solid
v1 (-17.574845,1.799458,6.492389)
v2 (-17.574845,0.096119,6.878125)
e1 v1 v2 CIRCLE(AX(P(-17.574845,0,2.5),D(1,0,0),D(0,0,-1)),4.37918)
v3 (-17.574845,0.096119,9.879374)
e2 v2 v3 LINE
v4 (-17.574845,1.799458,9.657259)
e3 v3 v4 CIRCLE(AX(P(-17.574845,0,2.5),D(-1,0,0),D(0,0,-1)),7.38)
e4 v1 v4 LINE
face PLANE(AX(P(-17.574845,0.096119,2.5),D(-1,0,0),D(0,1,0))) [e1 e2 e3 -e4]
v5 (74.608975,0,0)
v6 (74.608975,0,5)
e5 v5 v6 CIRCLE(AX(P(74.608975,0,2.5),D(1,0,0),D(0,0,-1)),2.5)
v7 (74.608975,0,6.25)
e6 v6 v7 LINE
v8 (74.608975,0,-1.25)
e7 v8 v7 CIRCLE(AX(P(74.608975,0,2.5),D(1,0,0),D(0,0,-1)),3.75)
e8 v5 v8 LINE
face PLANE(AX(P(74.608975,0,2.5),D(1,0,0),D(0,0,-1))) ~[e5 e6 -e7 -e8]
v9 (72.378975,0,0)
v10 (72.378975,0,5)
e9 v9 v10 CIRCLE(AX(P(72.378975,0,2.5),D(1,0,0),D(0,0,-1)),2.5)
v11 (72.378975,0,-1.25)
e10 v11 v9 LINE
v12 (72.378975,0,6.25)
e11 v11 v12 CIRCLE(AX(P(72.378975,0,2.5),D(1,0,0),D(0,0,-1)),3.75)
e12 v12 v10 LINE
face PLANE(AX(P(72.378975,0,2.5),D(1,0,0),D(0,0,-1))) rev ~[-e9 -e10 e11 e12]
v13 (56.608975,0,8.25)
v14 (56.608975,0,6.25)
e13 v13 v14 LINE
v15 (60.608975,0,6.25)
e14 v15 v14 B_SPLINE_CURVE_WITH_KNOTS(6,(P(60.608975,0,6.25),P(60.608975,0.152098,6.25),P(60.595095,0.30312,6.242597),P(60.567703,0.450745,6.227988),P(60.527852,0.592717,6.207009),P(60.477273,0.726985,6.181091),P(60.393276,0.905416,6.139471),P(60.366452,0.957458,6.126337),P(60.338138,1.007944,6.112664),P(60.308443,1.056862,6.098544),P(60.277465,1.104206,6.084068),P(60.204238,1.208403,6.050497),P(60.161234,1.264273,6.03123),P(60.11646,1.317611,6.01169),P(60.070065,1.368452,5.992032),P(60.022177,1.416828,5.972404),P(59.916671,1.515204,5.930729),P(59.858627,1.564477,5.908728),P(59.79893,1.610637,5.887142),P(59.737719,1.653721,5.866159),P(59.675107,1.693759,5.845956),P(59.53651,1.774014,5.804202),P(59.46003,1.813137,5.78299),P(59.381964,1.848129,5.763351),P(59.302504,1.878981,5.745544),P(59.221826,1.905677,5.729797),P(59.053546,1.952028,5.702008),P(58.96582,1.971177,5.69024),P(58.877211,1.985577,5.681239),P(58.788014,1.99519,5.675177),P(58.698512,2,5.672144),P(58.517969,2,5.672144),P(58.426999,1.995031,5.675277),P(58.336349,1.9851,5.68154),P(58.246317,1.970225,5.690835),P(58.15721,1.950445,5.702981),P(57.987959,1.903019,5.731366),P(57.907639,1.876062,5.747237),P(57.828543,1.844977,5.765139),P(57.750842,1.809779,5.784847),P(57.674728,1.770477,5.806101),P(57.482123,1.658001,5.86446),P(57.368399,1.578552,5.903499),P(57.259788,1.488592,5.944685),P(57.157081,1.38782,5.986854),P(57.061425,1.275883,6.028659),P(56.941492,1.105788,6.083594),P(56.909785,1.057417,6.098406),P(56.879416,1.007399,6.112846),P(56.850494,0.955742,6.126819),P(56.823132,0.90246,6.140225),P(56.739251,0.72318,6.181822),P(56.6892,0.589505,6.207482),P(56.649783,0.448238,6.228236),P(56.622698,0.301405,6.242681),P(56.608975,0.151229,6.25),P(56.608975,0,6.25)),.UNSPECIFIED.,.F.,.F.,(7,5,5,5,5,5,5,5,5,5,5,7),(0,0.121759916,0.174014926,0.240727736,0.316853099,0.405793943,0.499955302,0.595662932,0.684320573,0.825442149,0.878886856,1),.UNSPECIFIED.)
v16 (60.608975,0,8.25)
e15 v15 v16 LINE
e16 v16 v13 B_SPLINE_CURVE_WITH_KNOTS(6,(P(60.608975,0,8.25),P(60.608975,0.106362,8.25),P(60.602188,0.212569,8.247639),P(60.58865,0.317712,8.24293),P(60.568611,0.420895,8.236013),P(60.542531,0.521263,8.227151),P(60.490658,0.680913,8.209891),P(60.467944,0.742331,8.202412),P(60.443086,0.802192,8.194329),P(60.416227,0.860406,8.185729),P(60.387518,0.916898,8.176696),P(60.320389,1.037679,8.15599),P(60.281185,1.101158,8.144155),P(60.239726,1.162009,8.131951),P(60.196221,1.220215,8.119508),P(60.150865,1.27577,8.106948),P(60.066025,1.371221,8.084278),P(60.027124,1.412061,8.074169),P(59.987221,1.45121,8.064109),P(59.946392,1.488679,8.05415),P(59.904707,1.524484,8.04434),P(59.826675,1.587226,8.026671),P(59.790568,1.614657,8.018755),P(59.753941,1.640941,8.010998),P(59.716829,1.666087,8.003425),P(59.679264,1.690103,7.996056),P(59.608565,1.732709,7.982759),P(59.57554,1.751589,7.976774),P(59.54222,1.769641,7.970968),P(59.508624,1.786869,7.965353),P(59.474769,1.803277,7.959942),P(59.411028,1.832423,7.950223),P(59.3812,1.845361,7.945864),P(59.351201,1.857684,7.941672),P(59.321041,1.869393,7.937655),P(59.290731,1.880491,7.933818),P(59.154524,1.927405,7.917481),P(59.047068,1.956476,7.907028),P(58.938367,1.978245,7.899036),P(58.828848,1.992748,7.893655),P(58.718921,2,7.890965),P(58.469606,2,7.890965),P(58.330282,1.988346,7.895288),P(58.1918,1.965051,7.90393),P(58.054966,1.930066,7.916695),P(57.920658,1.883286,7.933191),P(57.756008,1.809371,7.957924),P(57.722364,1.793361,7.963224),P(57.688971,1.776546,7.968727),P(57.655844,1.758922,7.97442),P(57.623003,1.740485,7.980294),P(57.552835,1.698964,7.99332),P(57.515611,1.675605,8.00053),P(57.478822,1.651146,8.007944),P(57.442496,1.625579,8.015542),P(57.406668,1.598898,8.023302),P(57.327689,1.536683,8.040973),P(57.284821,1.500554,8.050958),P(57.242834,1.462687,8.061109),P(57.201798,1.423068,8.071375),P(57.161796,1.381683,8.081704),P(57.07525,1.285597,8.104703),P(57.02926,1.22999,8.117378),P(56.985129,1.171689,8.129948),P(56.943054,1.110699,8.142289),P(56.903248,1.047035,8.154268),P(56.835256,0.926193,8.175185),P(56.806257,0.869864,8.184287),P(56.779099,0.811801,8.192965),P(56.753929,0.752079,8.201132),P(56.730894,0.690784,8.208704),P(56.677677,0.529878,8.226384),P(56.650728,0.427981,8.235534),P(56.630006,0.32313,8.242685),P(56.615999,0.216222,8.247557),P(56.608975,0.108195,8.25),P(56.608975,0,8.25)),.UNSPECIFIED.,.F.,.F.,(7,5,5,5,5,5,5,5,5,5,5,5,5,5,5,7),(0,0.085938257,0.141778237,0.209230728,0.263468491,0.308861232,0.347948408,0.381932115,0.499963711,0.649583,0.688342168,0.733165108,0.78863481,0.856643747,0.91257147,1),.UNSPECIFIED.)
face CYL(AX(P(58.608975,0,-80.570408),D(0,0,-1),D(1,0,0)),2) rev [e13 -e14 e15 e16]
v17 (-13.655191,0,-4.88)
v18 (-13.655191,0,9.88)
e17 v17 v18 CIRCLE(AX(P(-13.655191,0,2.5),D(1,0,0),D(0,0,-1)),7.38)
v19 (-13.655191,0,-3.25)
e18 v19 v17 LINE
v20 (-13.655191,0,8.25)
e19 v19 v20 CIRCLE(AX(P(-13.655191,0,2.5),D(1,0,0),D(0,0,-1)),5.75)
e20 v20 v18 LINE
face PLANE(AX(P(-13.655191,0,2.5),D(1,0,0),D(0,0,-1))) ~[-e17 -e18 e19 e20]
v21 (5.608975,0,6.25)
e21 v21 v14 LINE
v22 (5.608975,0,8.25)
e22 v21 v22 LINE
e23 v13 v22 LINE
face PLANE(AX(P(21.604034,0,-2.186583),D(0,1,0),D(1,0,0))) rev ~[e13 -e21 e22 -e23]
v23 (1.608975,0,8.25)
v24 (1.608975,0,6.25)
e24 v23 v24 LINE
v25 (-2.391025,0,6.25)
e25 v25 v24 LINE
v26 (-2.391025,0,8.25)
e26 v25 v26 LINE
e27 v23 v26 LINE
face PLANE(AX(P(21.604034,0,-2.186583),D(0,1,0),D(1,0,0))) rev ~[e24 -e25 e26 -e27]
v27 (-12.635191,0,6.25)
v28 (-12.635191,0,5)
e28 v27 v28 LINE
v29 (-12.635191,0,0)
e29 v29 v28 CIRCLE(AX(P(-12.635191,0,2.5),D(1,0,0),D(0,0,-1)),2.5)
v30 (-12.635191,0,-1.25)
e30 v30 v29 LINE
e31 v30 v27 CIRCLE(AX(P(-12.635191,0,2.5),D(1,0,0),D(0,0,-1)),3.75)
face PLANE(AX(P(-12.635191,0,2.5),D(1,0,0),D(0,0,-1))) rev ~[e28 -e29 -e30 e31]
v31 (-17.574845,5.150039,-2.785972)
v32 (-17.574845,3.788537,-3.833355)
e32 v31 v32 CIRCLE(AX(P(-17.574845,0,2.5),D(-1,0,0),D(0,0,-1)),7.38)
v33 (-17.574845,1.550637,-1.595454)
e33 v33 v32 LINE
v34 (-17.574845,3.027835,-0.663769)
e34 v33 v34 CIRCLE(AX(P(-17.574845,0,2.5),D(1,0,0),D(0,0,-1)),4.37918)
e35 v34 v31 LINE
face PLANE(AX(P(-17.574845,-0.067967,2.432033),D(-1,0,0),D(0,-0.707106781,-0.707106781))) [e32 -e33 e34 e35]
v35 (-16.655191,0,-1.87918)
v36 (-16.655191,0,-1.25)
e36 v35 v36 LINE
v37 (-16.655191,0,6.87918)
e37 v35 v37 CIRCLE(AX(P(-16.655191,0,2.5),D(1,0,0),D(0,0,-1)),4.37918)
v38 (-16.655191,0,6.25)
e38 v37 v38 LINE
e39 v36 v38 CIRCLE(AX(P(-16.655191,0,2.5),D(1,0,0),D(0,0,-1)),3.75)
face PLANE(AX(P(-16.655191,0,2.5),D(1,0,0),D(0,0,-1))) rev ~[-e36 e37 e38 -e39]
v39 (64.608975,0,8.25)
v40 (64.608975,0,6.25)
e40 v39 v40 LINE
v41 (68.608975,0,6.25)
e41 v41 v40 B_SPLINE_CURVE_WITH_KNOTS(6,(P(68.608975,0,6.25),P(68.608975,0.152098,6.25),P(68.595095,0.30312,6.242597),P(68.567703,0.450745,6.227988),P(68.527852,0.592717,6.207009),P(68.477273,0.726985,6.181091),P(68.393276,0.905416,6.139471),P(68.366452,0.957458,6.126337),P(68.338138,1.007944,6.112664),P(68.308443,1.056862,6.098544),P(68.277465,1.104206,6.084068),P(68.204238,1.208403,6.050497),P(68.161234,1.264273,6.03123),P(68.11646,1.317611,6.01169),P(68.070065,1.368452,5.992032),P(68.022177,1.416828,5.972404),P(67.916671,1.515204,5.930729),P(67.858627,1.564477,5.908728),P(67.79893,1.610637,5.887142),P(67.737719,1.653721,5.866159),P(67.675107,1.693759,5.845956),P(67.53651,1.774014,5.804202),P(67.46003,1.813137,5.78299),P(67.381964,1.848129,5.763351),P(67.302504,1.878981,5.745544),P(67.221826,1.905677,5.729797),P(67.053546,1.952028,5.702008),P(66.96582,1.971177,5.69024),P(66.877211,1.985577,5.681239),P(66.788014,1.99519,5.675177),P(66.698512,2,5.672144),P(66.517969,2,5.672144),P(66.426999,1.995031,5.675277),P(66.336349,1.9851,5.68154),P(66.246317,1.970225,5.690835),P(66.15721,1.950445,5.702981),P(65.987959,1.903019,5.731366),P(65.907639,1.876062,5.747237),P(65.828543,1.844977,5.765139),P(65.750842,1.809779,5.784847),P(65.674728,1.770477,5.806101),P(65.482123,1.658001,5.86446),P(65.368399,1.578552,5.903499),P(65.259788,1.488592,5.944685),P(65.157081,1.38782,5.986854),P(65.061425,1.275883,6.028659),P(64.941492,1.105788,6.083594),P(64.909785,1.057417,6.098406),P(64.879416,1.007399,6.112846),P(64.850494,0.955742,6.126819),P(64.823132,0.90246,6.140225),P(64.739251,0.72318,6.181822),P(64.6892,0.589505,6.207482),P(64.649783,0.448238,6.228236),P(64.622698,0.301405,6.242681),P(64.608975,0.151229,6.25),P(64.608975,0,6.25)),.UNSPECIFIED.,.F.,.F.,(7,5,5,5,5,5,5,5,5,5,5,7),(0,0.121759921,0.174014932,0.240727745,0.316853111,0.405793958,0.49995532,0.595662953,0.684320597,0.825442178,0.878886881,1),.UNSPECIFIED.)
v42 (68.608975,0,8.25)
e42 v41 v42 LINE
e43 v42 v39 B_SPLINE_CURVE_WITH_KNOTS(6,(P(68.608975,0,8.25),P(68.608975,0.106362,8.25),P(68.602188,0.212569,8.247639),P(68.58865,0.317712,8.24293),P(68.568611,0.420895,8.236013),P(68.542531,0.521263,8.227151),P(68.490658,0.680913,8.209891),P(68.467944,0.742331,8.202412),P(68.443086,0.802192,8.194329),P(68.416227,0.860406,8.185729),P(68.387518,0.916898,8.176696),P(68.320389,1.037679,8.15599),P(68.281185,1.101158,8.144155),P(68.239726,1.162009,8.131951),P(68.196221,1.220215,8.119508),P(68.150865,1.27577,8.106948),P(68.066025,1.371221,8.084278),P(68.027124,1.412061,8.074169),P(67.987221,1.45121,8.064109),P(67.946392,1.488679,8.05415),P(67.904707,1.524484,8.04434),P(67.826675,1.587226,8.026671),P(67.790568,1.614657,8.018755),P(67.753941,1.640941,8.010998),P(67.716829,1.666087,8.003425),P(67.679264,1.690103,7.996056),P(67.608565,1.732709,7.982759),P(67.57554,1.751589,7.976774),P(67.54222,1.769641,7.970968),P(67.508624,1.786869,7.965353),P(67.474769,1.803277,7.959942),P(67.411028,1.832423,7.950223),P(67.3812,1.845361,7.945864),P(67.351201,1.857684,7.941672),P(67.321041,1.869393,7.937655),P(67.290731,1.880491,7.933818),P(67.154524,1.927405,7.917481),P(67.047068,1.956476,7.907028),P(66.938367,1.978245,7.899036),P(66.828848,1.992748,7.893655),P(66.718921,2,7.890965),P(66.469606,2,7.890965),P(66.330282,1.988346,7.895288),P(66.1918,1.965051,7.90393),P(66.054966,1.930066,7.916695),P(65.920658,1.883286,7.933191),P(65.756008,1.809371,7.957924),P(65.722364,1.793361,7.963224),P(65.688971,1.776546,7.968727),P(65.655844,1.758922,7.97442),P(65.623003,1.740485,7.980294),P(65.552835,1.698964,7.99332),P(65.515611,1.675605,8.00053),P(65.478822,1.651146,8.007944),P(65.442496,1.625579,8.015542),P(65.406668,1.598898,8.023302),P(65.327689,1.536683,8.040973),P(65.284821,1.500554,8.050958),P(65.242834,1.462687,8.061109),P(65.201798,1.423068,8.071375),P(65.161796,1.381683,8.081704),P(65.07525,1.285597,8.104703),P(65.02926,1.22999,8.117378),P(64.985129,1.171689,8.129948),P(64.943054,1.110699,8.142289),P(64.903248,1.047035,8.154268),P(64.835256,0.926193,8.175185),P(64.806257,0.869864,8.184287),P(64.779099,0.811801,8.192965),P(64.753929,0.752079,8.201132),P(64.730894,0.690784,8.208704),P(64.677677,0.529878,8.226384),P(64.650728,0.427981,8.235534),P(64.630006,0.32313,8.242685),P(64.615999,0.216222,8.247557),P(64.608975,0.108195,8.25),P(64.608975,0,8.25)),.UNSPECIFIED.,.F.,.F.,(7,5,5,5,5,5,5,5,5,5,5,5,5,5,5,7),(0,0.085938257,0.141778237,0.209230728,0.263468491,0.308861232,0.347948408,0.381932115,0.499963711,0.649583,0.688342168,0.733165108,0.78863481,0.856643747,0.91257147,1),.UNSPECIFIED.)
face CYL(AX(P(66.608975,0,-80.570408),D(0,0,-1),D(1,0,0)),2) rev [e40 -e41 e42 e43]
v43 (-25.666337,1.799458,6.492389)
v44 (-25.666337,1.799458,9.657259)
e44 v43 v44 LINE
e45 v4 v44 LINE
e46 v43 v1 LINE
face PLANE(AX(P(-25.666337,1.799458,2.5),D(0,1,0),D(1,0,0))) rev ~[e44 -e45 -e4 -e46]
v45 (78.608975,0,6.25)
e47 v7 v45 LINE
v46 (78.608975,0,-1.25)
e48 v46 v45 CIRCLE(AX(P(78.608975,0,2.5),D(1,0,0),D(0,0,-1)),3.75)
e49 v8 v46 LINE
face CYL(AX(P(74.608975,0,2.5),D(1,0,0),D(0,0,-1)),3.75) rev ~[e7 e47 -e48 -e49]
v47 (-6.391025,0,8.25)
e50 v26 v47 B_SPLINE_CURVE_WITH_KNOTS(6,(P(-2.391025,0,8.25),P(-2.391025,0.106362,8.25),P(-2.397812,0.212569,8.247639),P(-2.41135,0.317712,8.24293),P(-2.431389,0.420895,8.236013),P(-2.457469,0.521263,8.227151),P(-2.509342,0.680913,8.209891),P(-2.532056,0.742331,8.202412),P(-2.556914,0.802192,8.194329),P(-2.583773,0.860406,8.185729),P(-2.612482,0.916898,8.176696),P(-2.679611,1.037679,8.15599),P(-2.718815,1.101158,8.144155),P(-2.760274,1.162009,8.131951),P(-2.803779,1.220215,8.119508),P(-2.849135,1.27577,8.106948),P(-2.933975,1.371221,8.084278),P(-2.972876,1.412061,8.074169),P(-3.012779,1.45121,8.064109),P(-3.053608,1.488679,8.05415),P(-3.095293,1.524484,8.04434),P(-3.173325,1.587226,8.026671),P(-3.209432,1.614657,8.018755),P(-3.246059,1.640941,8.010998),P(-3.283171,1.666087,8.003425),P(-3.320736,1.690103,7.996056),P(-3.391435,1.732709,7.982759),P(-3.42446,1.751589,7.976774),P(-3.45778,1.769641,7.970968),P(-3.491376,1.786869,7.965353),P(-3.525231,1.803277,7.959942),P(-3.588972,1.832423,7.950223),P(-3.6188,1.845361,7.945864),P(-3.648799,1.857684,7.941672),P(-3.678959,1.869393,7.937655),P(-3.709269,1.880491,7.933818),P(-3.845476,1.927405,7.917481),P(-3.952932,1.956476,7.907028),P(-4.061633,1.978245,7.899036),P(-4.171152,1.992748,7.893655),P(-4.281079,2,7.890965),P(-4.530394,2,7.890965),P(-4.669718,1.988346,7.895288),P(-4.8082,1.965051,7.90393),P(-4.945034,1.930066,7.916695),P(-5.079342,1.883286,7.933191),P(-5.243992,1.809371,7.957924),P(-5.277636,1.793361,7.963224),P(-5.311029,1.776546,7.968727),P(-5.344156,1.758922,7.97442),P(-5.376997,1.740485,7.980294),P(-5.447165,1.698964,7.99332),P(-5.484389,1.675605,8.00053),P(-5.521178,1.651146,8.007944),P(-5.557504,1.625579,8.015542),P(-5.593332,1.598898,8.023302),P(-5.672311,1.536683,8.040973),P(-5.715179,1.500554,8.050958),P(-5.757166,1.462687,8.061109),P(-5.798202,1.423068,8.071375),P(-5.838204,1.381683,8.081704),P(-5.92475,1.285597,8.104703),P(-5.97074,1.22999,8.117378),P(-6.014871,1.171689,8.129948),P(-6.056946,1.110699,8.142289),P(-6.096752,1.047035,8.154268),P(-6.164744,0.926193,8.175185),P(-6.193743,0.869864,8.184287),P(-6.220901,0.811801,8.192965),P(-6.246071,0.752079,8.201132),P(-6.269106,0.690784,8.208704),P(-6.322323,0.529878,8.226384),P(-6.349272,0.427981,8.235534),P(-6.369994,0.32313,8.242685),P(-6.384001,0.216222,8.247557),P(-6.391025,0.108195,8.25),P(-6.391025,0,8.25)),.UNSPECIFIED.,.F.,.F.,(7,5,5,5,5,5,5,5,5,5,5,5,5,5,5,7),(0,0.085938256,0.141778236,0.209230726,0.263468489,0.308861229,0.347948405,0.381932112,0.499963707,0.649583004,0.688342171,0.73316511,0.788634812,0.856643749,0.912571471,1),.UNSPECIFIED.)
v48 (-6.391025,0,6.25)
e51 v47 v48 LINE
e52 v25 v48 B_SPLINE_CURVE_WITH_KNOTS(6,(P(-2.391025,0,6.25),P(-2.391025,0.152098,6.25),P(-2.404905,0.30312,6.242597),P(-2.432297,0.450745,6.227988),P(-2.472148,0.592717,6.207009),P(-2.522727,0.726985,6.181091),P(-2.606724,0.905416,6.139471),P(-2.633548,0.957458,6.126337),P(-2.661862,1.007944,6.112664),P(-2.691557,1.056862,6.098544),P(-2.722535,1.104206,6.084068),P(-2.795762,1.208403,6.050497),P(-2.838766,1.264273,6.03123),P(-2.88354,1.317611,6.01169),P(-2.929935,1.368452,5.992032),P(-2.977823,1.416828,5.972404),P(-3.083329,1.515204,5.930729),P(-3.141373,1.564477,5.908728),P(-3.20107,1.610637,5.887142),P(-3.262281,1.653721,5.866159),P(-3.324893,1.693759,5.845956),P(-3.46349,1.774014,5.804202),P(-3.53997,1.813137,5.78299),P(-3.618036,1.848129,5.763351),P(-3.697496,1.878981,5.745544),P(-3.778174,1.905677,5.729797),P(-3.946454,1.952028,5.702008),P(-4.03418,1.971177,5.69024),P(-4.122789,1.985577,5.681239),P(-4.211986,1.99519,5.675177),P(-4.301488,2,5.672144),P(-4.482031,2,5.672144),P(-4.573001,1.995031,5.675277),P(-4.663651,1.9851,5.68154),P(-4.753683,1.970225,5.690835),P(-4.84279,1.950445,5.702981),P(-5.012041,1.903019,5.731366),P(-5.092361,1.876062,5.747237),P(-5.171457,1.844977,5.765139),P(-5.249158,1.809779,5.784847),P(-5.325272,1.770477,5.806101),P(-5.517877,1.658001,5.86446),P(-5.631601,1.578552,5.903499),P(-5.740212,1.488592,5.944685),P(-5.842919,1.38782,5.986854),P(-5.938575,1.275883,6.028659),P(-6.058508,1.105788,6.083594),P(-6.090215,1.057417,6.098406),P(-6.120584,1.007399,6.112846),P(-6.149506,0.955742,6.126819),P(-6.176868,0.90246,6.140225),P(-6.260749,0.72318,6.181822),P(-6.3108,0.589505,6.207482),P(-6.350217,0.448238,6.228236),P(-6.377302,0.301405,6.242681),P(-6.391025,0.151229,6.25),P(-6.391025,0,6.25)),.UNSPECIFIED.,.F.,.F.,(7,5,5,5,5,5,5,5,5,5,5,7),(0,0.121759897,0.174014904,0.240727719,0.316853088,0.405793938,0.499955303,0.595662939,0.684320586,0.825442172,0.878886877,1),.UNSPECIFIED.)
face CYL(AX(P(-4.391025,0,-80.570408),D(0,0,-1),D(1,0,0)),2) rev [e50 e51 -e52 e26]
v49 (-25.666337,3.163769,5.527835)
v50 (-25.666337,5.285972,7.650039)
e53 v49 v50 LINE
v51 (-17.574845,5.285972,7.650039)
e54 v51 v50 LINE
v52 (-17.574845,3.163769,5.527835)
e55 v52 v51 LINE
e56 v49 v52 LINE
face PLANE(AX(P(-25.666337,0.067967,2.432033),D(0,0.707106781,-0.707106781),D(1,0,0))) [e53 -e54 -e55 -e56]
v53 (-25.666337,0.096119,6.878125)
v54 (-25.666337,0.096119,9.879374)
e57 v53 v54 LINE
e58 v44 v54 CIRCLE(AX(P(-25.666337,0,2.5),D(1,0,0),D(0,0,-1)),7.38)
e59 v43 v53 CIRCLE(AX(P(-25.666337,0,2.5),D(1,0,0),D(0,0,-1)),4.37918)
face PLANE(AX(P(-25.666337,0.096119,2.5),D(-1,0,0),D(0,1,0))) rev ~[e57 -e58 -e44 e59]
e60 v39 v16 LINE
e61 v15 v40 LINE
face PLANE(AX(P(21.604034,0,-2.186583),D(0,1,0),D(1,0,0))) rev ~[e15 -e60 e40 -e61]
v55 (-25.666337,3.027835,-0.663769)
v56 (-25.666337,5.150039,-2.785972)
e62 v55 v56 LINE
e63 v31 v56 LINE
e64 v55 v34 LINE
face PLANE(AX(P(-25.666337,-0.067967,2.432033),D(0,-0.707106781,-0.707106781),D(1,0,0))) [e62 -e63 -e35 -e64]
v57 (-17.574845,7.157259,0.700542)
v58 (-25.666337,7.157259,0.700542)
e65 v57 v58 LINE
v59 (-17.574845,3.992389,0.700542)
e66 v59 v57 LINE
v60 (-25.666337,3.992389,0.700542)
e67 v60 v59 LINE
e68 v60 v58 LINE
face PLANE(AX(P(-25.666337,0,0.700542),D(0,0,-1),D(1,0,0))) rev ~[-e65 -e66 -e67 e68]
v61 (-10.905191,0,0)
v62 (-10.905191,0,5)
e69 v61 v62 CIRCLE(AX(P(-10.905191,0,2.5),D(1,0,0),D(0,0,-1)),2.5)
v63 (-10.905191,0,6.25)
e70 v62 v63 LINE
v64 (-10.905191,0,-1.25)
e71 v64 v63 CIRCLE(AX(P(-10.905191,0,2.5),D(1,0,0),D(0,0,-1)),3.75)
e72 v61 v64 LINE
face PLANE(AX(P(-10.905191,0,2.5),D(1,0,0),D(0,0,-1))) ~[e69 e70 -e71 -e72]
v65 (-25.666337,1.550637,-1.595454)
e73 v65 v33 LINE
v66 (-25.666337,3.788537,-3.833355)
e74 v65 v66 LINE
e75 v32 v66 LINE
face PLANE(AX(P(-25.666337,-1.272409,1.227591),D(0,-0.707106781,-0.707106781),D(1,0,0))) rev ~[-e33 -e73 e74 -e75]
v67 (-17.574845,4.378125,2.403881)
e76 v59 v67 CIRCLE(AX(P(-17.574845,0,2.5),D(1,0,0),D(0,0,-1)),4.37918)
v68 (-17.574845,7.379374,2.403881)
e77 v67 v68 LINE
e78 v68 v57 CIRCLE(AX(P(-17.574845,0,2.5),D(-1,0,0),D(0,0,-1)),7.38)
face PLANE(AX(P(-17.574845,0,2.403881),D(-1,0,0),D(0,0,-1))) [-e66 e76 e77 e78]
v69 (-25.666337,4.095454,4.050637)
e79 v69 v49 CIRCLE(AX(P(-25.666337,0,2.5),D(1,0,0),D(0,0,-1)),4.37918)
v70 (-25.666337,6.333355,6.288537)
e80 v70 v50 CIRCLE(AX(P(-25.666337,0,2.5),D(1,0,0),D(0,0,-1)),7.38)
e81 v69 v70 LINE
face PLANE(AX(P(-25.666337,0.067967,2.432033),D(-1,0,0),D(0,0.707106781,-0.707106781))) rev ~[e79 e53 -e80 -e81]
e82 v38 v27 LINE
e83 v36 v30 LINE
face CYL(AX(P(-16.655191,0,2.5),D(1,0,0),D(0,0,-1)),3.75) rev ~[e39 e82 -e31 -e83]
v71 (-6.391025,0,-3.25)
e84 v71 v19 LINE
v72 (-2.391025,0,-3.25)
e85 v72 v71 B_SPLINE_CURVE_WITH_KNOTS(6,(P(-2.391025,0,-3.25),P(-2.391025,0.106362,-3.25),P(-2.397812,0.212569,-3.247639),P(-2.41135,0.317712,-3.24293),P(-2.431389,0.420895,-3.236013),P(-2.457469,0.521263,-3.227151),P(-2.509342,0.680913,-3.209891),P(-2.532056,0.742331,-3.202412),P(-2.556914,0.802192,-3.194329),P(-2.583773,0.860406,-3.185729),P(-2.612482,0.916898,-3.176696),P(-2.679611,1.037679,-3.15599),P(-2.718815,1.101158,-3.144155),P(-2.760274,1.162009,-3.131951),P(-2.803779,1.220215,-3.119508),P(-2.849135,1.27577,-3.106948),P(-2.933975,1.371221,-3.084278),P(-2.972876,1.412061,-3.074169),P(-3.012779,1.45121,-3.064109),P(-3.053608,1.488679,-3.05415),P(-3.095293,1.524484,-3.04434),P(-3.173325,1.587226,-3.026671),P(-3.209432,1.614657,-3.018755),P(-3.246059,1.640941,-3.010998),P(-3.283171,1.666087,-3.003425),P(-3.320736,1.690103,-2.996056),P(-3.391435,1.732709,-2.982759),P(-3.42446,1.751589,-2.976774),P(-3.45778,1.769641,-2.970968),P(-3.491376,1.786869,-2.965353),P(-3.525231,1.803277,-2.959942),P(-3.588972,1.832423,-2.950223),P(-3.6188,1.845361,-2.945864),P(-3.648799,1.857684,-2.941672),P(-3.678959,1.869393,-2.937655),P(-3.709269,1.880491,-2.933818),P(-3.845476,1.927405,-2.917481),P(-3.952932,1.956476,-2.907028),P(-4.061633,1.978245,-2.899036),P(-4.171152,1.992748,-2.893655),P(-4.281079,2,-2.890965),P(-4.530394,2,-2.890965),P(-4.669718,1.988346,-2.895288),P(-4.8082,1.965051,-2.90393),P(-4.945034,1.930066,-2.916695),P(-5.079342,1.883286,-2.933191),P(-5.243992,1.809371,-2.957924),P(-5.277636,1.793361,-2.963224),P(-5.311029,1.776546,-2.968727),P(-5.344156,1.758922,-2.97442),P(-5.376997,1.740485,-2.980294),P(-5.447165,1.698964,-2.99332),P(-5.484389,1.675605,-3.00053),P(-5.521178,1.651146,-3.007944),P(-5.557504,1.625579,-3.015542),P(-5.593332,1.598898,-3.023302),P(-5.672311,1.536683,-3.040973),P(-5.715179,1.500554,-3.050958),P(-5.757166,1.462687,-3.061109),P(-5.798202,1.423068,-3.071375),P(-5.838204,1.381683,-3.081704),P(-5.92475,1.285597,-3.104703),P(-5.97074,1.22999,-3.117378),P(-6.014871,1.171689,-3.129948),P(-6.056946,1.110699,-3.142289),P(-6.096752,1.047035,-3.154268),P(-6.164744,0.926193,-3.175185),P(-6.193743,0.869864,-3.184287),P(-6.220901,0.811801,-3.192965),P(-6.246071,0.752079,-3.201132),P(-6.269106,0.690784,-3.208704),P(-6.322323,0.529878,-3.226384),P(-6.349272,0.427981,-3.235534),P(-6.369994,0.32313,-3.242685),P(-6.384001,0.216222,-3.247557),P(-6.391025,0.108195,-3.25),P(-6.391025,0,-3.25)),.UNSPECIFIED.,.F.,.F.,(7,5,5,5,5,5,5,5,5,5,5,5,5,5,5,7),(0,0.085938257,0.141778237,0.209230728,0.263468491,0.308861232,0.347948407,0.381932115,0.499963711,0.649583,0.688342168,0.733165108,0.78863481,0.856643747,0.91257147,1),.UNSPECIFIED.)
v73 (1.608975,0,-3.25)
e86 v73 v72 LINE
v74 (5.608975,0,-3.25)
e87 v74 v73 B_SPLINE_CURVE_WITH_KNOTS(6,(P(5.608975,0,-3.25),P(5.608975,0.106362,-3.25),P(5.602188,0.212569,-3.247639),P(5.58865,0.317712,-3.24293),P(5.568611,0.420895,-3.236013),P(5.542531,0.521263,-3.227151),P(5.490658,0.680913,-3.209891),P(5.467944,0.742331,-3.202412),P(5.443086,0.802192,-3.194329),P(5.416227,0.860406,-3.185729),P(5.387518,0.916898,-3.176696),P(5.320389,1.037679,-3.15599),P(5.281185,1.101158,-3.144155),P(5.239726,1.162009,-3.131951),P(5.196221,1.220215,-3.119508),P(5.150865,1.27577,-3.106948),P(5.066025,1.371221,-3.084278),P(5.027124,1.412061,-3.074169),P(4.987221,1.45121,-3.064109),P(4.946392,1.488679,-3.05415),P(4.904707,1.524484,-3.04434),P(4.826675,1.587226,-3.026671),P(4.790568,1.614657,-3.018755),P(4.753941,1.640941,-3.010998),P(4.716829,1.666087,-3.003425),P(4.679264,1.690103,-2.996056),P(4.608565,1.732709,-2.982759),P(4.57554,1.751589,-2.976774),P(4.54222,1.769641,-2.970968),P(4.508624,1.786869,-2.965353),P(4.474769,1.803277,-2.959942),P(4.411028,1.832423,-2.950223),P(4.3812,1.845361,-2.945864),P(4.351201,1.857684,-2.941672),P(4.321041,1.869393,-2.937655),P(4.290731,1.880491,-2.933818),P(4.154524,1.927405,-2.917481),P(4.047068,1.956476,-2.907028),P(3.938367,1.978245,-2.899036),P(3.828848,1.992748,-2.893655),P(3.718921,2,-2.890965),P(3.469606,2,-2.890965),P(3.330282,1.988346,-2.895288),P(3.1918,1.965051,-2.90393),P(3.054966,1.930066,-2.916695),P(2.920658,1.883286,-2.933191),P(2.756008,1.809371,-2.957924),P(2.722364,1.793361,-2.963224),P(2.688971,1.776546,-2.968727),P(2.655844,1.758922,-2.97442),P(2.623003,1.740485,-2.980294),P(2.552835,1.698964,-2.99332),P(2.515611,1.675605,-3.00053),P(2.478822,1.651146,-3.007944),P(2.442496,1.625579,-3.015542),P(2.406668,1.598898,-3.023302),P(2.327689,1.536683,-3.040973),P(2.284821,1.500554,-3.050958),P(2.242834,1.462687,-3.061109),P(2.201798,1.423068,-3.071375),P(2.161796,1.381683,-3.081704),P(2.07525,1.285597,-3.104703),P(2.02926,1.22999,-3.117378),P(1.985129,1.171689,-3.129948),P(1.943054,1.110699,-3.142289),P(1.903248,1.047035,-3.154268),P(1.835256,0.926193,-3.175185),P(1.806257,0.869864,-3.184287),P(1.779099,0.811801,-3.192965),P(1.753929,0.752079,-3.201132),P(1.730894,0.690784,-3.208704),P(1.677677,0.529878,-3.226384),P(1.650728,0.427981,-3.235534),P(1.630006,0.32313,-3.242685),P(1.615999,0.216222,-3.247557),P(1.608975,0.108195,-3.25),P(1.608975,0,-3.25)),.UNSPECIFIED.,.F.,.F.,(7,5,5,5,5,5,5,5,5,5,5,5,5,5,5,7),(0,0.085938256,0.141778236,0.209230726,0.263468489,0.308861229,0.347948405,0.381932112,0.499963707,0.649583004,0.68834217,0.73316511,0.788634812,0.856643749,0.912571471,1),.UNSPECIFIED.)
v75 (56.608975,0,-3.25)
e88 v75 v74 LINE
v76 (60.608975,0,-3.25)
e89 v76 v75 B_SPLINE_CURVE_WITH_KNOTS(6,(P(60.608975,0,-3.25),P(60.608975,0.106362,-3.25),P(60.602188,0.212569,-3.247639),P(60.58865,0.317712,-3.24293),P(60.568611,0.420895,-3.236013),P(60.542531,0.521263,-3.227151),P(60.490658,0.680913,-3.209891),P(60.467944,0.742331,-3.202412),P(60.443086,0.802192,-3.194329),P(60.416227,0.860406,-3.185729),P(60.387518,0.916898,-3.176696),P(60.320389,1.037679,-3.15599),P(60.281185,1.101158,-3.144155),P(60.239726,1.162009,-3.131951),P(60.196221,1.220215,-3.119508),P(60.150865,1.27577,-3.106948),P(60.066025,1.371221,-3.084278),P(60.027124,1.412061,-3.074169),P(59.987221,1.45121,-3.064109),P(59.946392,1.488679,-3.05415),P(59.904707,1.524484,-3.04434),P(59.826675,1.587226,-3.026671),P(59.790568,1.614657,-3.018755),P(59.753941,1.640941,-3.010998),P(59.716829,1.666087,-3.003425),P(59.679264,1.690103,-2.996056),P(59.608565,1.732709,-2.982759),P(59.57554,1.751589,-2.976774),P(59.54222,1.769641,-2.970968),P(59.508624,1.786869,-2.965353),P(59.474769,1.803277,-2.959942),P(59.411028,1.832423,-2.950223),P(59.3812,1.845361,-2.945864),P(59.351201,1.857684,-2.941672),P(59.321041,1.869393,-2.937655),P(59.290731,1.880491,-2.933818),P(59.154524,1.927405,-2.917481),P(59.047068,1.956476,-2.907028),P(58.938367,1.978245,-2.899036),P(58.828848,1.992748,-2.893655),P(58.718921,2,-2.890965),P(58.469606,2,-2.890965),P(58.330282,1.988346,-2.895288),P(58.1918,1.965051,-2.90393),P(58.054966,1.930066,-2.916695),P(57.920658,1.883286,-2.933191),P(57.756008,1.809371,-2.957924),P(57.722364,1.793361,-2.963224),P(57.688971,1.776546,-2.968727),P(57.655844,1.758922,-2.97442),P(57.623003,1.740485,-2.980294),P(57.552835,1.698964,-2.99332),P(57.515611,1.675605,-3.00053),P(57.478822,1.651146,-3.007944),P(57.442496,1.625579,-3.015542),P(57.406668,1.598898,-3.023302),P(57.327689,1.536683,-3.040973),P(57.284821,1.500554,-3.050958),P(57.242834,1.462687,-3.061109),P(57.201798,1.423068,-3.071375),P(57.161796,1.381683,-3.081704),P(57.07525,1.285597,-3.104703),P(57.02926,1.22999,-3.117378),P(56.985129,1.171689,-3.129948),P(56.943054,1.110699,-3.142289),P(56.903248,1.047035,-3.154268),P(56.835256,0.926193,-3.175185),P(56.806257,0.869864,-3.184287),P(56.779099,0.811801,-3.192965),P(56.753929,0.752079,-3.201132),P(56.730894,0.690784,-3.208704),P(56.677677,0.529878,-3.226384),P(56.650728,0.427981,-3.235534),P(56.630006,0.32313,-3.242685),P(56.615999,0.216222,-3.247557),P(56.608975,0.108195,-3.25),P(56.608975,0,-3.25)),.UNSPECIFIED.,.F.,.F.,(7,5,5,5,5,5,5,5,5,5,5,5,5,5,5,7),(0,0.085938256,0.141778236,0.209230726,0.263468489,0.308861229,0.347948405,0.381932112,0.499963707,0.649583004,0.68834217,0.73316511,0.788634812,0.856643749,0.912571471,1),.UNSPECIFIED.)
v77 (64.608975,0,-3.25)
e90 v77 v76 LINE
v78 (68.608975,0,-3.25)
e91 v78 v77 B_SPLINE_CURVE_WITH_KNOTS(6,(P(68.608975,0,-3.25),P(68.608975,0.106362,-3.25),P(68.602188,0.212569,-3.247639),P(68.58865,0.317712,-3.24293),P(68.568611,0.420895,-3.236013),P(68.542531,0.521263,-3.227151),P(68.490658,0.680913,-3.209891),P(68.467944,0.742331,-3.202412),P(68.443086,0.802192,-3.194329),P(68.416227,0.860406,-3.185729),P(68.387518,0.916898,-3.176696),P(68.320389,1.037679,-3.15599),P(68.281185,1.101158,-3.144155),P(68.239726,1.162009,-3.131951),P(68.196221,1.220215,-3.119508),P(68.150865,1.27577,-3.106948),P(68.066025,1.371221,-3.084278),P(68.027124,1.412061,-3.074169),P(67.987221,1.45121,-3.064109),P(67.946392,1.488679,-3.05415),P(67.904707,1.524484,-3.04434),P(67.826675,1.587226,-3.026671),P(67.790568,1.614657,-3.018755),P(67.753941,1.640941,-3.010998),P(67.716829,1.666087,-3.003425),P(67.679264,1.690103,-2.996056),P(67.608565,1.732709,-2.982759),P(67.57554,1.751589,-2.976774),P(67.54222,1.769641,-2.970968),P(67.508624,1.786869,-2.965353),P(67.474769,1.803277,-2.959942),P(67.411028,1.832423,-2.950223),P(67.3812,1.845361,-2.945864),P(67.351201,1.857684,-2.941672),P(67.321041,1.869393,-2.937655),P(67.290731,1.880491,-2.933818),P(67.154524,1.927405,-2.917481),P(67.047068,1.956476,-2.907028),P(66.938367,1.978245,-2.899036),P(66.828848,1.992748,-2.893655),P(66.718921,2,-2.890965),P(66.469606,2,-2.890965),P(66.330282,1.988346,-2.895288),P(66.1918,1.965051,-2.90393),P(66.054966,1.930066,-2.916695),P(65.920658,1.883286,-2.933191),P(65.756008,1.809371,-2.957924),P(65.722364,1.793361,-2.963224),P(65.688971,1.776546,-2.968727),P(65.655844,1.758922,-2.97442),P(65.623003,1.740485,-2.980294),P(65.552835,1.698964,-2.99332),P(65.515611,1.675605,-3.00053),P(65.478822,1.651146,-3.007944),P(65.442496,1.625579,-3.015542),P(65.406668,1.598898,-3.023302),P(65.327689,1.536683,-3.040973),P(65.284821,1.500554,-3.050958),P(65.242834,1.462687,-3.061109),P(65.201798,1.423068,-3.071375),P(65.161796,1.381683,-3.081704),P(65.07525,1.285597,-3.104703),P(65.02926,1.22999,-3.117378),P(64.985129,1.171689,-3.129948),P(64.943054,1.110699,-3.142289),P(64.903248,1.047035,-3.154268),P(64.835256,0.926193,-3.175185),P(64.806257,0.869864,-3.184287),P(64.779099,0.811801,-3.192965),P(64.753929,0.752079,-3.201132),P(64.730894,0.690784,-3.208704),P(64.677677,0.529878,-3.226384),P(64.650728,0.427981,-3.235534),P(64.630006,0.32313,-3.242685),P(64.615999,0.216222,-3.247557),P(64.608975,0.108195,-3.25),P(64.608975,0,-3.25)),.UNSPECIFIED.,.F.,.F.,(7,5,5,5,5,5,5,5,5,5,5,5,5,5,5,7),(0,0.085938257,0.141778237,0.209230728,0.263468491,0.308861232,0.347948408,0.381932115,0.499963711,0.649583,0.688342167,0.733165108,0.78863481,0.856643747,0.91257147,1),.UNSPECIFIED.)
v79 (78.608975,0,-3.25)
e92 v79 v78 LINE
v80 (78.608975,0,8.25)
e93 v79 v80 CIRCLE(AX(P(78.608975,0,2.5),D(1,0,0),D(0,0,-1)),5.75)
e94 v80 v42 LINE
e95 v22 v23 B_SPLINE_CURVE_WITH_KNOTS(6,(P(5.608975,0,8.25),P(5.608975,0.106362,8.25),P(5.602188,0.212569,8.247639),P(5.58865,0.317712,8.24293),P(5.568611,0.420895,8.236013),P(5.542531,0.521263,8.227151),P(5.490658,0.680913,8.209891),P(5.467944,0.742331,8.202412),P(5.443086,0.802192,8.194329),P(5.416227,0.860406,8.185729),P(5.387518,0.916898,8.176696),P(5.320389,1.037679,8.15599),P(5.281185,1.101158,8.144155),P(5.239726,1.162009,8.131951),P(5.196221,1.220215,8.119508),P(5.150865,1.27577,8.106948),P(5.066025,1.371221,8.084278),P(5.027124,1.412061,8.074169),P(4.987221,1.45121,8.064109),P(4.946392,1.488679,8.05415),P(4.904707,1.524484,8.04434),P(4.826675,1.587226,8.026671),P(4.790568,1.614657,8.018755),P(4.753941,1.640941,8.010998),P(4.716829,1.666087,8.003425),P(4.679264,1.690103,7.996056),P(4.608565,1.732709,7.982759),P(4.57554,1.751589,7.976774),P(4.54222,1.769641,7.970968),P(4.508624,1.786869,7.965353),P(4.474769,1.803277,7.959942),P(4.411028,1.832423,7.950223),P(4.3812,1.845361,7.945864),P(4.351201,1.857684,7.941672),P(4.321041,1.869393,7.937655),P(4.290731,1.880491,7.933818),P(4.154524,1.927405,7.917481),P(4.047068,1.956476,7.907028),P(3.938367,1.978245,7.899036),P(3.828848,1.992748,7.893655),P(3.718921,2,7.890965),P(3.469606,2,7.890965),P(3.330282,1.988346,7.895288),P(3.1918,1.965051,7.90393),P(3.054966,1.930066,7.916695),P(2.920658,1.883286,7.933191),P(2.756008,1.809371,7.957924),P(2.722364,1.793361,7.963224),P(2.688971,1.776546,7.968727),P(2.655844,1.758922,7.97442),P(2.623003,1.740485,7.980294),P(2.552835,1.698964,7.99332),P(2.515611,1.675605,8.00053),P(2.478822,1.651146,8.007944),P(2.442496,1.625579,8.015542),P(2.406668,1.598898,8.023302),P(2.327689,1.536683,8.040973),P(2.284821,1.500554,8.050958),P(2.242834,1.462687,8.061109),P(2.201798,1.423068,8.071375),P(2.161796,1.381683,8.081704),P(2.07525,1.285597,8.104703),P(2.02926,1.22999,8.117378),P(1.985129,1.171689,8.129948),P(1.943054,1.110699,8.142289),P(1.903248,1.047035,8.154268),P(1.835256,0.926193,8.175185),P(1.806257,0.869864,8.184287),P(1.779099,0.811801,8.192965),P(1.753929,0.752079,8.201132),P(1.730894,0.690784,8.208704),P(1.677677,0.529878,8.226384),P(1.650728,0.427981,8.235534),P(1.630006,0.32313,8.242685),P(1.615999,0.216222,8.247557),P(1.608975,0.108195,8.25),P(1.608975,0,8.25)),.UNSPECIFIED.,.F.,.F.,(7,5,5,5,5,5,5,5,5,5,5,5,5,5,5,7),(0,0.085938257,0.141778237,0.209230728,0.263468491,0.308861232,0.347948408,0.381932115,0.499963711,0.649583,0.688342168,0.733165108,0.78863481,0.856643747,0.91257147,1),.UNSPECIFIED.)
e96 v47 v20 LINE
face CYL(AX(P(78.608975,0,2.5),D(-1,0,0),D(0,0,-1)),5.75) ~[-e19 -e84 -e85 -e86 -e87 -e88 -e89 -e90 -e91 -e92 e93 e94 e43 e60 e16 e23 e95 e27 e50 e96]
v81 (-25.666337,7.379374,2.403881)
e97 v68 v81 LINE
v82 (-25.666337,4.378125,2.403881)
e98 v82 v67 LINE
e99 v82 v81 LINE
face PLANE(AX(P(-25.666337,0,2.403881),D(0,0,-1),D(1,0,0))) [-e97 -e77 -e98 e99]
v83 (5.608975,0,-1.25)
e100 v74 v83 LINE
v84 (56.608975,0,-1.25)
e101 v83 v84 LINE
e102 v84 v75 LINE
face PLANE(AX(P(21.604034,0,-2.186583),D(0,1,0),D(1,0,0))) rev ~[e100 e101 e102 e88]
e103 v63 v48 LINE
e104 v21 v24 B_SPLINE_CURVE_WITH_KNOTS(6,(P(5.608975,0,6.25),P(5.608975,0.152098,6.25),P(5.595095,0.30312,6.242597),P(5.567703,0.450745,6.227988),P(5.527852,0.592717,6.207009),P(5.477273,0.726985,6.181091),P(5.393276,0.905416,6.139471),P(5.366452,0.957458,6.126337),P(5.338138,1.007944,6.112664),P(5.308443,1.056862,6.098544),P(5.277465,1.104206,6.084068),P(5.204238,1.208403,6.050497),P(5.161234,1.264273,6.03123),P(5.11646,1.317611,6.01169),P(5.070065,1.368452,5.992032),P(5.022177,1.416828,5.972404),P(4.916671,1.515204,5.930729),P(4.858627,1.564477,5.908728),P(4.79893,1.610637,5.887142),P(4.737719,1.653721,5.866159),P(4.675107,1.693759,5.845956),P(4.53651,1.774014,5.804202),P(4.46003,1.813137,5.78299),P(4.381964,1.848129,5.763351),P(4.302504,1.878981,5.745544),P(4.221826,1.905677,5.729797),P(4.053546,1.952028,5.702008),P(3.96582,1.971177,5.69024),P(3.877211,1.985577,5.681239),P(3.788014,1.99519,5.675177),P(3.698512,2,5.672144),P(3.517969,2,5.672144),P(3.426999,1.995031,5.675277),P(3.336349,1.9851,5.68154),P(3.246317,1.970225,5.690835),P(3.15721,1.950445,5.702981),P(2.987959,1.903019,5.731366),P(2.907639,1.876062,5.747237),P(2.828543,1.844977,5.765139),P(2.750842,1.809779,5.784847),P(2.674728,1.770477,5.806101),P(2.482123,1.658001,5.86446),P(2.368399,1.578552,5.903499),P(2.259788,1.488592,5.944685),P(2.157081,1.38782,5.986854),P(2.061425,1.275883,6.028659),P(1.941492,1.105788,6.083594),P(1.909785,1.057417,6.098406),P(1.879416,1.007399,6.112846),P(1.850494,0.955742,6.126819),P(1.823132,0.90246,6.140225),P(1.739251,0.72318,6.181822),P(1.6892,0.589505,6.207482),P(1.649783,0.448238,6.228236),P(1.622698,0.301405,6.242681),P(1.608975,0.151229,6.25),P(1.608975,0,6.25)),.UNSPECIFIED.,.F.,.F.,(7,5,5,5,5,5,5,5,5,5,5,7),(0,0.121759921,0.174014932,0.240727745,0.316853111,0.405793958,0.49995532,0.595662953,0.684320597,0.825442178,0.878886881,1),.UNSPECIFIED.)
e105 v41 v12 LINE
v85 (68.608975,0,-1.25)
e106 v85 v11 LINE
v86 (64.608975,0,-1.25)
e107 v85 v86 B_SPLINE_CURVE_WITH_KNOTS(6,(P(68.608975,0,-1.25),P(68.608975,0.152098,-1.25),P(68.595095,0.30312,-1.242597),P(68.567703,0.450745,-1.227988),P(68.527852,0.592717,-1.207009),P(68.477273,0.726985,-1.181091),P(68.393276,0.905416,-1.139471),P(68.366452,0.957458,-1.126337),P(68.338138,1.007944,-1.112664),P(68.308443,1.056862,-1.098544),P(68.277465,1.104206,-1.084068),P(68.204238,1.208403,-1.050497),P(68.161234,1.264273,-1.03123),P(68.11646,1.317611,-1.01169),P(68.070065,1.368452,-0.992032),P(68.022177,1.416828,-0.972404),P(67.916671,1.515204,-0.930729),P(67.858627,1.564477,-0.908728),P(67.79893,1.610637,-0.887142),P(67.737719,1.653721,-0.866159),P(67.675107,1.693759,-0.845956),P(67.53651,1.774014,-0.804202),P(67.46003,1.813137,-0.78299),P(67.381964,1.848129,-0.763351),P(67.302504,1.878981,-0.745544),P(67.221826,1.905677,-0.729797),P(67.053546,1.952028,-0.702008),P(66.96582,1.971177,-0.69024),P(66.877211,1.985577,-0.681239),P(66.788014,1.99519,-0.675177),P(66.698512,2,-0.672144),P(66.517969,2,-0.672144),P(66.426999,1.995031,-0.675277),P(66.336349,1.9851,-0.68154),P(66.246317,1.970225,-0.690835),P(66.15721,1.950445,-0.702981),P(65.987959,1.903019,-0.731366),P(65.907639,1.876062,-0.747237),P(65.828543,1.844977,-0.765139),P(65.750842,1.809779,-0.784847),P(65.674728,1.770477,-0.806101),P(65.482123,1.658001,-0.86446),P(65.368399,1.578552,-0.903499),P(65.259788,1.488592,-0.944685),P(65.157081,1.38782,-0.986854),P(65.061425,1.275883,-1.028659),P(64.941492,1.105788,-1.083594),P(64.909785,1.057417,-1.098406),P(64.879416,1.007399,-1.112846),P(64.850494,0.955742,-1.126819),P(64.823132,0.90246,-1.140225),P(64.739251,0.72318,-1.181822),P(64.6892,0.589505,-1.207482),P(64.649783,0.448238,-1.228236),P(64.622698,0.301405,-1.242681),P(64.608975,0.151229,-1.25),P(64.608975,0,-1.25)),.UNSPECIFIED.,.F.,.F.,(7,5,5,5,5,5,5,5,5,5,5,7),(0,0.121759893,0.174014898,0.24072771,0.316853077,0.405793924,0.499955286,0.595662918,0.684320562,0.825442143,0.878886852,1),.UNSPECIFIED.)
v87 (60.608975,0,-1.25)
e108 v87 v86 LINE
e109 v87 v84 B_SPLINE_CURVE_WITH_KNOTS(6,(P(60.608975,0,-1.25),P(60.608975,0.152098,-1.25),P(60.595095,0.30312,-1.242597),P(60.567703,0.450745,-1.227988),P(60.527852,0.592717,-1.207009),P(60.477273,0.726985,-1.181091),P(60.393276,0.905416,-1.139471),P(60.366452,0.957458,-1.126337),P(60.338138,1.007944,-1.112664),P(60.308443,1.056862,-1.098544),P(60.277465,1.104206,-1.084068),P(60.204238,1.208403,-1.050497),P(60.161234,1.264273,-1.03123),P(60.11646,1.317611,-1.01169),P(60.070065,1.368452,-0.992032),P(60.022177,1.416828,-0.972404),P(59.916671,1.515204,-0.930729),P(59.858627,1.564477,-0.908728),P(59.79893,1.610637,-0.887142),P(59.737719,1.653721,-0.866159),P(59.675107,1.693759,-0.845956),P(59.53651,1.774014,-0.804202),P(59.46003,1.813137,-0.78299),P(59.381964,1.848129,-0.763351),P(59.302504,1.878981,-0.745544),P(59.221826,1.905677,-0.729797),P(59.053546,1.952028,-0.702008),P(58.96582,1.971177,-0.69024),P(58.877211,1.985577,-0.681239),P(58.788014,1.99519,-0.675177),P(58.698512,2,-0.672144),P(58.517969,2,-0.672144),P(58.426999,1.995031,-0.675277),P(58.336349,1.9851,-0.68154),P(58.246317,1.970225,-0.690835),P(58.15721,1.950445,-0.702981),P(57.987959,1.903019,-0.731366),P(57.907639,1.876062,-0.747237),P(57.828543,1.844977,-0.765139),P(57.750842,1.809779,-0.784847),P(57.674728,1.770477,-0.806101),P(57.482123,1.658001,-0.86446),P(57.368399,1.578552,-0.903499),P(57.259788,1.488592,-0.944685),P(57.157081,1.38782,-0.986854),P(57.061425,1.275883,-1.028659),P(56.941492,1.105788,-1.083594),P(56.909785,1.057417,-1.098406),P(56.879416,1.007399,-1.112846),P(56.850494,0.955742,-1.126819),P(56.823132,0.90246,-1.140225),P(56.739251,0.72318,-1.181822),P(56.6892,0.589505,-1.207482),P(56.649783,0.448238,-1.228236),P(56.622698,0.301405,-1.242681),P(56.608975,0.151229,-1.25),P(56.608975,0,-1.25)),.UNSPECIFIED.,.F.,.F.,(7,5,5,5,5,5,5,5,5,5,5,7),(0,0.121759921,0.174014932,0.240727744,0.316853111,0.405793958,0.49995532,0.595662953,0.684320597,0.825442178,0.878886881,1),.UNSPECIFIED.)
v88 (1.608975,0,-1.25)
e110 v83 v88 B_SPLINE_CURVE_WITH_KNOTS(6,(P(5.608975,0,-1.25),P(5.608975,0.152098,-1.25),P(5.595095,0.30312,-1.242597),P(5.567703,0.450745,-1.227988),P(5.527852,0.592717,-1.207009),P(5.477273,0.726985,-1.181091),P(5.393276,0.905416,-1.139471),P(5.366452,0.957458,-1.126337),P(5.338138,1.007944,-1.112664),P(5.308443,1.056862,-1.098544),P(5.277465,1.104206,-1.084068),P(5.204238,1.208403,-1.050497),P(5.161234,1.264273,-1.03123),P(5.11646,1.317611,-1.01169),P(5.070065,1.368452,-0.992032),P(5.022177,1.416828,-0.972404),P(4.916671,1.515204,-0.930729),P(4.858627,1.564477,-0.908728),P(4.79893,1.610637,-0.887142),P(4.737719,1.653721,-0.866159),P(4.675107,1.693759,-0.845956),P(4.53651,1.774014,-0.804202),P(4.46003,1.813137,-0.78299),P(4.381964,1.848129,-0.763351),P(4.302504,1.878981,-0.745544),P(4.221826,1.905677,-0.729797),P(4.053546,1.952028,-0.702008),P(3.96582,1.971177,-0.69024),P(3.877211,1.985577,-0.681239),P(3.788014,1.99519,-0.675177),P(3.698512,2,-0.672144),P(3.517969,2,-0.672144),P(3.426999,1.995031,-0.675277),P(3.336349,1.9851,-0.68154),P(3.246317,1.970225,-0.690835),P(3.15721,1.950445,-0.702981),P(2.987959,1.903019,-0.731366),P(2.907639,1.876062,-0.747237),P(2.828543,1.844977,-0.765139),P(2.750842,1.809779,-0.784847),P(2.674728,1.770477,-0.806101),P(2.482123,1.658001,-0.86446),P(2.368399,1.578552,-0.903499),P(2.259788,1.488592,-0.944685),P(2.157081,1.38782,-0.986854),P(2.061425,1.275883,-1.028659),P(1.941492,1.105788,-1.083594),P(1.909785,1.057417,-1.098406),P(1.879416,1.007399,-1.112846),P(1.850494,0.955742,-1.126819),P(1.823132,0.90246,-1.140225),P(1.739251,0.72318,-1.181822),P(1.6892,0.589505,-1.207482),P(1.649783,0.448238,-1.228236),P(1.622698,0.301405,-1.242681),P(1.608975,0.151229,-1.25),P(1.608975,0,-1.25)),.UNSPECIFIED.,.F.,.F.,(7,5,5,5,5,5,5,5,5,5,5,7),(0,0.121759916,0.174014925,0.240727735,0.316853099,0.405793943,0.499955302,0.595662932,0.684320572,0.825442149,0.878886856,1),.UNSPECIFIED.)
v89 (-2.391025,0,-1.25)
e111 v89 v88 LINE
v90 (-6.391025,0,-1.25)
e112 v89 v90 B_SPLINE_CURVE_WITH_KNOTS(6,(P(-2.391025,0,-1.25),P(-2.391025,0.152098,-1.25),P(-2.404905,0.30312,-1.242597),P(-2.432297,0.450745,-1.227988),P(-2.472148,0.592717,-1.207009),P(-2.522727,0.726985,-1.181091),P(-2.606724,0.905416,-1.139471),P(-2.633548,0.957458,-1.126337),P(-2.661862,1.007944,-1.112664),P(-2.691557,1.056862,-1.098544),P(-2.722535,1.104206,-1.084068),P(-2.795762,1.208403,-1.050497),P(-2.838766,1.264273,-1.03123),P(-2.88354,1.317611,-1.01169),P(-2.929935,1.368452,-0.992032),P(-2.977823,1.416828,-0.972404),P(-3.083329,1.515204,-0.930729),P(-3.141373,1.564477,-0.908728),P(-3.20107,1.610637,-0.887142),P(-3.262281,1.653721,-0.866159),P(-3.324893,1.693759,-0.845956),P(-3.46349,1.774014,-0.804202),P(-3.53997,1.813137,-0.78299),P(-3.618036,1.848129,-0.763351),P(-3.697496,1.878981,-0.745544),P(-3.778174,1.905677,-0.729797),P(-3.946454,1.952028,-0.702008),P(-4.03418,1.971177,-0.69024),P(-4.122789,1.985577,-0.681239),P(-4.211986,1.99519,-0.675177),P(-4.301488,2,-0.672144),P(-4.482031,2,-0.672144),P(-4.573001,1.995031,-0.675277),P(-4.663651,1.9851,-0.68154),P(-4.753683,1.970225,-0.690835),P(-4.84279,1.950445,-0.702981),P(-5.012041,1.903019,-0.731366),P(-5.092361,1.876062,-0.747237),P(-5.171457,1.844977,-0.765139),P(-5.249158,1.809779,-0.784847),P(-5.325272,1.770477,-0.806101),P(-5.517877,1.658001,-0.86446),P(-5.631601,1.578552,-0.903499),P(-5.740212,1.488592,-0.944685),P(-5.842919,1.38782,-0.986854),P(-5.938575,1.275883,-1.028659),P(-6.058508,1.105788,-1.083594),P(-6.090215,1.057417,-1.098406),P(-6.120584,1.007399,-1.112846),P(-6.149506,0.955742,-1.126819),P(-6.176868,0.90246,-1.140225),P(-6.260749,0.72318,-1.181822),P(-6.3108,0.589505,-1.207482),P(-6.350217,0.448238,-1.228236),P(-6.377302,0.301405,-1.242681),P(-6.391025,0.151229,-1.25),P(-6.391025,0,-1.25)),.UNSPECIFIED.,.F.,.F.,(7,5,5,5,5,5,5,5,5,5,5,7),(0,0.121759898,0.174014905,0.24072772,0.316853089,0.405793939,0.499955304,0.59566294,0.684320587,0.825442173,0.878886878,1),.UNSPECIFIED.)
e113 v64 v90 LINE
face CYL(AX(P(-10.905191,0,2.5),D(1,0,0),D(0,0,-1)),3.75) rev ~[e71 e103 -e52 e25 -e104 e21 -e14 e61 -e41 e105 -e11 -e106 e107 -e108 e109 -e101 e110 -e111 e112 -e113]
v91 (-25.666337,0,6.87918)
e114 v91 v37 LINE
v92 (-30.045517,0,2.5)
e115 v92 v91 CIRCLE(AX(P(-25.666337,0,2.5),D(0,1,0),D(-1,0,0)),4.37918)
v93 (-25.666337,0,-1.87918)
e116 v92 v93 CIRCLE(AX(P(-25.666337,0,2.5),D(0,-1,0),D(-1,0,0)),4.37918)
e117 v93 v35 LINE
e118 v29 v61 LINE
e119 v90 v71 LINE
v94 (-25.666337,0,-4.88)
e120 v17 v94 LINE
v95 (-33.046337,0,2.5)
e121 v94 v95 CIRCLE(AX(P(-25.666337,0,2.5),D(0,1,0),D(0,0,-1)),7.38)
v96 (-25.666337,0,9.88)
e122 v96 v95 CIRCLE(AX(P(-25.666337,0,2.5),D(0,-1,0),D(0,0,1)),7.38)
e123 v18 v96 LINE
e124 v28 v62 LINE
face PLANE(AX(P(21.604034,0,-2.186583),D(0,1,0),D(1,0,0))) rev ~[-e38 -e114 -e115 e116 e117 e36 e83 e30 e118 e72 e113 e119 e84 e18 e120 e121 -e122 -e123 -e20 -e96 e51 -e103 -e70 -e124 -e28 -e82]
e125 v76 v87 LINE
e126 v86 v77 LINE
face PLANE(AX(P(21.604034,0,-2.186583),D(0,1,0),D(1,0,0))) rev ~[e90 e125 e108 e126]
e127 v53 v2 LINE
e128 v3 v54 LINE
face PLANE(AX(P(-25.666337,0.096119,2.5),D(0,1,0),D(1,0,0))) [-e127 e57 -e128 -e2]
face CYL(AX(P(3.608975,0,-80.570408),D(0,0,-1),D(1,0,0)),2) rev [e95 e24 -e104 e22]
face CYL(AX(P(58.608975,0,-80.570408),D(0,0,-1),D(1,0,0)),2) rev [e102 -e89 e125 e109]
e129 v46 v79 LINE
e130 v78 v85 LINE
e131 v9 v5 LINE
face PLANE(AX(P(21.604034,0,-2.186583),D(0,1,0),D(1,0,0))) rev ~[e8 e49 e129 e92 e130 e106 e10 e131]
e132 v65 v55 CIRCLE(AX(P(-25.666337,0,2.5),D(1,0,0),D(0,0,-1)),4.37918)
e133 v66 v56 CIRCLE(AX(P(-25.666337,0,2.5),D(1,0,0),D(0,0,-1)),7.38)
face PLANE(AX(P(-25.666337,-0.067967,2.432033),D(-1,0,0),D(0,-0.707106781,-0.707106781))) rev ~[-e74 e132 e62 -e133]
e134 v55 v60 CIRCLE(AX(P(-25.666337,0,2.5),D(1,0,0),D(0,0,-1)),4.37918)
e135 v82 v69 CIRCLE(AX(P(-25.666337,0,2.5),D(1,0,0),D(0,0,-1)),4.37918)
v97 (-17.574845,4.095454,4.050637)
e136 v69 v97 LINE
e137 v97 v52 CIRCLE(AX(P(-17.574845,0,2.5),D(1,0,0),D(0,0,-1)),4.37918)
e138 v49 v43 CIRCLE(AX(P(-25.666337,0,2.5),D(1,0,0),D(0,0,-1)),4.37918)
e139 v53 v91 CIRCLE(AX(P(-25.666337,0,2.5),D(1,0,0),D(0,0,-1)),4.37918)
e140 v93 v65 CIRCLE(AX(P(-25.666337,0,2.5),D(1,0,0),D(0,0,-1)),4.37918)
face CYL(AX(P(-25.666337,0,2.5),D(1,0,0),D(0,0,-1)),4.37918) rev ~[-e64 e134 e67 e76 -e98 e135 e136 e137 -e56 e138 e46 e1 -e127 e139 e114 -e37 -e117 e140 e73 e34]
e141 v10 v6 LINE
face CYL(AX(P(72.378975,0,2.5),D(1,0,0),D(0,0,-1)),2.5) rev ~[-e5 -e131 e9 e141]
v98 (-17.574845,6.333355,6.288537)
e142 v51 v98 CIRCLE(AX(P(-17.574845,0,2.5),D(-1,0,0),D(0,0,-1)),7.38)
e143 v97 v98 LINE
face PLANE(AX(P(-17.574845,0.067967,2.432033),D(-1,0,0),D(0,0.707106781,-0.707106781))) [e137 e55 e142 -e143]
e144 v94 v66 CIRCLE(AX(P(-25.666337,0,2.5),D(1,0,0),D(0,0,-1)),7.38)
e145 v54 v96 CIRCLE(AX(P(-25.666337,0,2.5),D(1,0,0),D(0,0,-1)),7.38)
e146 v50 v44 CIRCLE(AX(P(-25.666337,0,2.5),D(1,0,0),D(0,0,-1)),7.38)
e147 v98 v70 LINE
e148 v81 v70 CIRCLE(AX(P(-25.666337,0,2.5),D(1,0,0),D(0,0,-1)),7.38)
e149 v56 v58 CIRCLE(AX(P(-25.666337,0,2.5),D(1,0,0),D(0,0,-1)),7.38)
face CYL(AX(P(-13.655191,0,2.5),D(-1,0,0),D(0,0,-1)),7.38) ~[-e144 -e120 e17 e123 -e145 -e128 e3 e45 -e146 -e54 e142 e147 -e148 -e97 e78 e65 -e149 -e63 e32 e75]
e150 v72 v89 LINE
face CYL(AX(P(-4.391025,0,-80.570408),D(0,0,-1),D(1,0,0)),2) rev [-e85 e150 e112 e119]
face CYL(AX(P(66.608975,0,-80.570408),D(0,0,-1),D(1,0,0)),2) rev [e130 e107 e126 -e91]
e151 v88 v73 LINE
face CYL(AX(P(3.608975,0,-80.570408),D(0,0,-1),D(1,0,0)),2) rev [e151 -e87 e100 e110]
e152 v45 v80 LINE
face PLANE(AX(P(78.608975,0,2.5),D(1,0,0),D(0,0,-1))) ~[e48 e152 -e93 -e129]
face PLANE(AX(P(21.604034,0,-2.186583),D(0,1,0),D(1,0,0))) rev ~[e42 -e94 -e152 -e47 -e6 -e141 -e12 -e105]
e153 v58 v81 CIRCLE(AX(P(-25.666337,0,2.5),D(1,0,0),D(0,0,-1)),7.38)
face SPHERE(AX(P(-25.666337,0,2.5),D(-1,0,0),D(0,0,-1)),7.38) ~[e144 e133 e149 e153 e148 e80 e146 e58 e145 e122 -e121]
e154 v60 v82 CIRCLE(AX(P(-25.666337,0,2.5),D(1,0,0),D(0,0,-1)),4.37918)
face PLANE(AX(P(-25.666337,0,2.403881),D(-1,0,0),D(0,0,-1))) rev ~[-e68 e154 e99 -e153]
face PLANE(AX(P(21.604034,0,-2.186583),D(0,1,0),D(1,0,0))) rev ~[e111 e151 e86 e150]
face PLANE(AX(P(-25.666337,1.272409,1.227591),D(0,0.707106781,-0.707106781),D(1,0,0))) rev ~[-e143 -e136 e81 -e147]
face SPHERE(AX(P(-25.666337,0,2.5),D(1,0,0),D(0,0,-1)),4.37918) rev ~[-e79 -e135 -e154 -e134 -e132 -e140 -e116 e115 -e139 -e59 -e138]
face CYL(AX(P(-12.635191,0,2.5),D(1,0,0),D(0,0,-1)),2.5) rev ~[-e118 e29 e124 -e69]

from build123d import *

# Parameters (mm, degrees)
REVOLVE6_ANGLE          = 180
SKETCH2_W               = 8.091492299
SKETCH2_H               = 1.703338147
CUT_EXTRUDE1_DEPTH      = 10
CIRPATTERN1_COUNT       = 8
CUT_EXTRUDE4_DEPTH      = 80.570407996
CUT_EXTRUDE4_DEPTH_BACK = 80.570407996
SKETCH3_R               = 2


with BuildPart() as part:
    # Sketch1 → Revolve6 (revolve)
    with BuildSketch(Plane(origin=(0, 0, 0), x_dir=(1, 0, 0), z_dir=(0, 1, 0))):
        with BuildLine():
            Line((-7.909078058, 1.25), (72.378975497, 1.25))
            Line((72.378975497, 1.25), (72.378975497, 0))
            Line((72.378975497, 0), (74.608975497, 0))
            Line((74.608975497, 0), (74.608975497, 1.25))
            Line((74.608975497, 1.25), (78.608975497, 1.25))
            Line((78.608975497, 1.25), (78.608975497, 3.25))
            Line((78.608975497, 3.25), (74.913959146, 3.25))
            Line((74.913959146, 3.25), (-13.655190787, 3.25))
            Line((-13.655190787, 3.25), (-13.655190787, 4.88))
            Line((-13.655190787, 4.88), (-16.655190787, 4.88))
            Line((-16.655190787, 4.88), (-25.666337235, 4.88))
            ThreePointArc((-25.666337235, 4.88), (-30.88478528, 2.718448045), (-33.046337235, -2.5))
            Line((-33.046337235, -2.5), (-30.045517155, -2.5))
            ThreePointArc((-30.045517155, -2.5), (-28.762885052, 0.596547817), (-25.666337235, 1.87917992))
            Line((-25.666337235, 1.87917992), (-16.655190787, 1.87917992))
            Line((-16.655190787, 1.87917992), (-16.655190787, 1.25))
            Line((-16.655190787, 1.25), (-12.635190787, 1.25))
            Line((-12.635190787, 1.25), (-12.635190787, 0))
            Line((-12.635190787, 0), (-10.905190787, 0))
            Line((-10.905190787, 0), (-10.905190787, 1.25))
            Line((-10.905190787, 1.25), (-7.909078058, 1.25))
        make_face()
    revolve(axis=Axis((-33.046337235, 0, 2.5), (1, 0, 0)), revolution_arc=REVOLVE6_ANGLE)

    # Sketch2 → Cut-Extrude1 (cut)
    with BuildSketch(Plane(origin=(0, 0, 0), x_dir=(1, 0, 0), z_dir=(0, 1, 0))):
        with Locations((-21.620591086, -1.552211442)):
            Rectangle(SKETCH2_W, SKETCH2_H)
    cut_extrude1 = extrude(amount=CUT_EXTRUDE1_DEPTH, mode=Mode.SUBTRACT)

    # CirPattern1: Cut-Extrude1 ×8 about axis
    cirpattern1_axis = Axis((0, 0, 2.5), (1, 0, 0))
    for i in range(1, CIRPATTERN1_COUNT):
        add(cut_extrude1.rotate(cirpattern1_axis, i * 360 / CIRPATTERN1_COUNT), mode=Mode.SUBTRACT)

    # Sketch3 → Cut-Extrude4 (cut, two sides: drawn at the far end of the back side and taken through both)
    with BuildSketch(Plane.XY.offset(-CUT_EXTRUDE4_DEPTH_BACK)):
        with Locations((66.608975497, 0)):
            Circle(SKETCH3_R)
        with Locations((58.608975497, 0)):
            Circle(SKETCH3_R)
        with Locations((3.608975497, 0)):
            Circle(SKETCH3_R)
        with Locations((-4.391024503, 0)):
            Circle(SKETCH3_R)
    extrude(amount=CUT_EXTRUDE4_DEPTH + CUT_EXTRUDE4_DEPTH_BACK, mode=Mode.SUBTRACT)


solid = part.part
